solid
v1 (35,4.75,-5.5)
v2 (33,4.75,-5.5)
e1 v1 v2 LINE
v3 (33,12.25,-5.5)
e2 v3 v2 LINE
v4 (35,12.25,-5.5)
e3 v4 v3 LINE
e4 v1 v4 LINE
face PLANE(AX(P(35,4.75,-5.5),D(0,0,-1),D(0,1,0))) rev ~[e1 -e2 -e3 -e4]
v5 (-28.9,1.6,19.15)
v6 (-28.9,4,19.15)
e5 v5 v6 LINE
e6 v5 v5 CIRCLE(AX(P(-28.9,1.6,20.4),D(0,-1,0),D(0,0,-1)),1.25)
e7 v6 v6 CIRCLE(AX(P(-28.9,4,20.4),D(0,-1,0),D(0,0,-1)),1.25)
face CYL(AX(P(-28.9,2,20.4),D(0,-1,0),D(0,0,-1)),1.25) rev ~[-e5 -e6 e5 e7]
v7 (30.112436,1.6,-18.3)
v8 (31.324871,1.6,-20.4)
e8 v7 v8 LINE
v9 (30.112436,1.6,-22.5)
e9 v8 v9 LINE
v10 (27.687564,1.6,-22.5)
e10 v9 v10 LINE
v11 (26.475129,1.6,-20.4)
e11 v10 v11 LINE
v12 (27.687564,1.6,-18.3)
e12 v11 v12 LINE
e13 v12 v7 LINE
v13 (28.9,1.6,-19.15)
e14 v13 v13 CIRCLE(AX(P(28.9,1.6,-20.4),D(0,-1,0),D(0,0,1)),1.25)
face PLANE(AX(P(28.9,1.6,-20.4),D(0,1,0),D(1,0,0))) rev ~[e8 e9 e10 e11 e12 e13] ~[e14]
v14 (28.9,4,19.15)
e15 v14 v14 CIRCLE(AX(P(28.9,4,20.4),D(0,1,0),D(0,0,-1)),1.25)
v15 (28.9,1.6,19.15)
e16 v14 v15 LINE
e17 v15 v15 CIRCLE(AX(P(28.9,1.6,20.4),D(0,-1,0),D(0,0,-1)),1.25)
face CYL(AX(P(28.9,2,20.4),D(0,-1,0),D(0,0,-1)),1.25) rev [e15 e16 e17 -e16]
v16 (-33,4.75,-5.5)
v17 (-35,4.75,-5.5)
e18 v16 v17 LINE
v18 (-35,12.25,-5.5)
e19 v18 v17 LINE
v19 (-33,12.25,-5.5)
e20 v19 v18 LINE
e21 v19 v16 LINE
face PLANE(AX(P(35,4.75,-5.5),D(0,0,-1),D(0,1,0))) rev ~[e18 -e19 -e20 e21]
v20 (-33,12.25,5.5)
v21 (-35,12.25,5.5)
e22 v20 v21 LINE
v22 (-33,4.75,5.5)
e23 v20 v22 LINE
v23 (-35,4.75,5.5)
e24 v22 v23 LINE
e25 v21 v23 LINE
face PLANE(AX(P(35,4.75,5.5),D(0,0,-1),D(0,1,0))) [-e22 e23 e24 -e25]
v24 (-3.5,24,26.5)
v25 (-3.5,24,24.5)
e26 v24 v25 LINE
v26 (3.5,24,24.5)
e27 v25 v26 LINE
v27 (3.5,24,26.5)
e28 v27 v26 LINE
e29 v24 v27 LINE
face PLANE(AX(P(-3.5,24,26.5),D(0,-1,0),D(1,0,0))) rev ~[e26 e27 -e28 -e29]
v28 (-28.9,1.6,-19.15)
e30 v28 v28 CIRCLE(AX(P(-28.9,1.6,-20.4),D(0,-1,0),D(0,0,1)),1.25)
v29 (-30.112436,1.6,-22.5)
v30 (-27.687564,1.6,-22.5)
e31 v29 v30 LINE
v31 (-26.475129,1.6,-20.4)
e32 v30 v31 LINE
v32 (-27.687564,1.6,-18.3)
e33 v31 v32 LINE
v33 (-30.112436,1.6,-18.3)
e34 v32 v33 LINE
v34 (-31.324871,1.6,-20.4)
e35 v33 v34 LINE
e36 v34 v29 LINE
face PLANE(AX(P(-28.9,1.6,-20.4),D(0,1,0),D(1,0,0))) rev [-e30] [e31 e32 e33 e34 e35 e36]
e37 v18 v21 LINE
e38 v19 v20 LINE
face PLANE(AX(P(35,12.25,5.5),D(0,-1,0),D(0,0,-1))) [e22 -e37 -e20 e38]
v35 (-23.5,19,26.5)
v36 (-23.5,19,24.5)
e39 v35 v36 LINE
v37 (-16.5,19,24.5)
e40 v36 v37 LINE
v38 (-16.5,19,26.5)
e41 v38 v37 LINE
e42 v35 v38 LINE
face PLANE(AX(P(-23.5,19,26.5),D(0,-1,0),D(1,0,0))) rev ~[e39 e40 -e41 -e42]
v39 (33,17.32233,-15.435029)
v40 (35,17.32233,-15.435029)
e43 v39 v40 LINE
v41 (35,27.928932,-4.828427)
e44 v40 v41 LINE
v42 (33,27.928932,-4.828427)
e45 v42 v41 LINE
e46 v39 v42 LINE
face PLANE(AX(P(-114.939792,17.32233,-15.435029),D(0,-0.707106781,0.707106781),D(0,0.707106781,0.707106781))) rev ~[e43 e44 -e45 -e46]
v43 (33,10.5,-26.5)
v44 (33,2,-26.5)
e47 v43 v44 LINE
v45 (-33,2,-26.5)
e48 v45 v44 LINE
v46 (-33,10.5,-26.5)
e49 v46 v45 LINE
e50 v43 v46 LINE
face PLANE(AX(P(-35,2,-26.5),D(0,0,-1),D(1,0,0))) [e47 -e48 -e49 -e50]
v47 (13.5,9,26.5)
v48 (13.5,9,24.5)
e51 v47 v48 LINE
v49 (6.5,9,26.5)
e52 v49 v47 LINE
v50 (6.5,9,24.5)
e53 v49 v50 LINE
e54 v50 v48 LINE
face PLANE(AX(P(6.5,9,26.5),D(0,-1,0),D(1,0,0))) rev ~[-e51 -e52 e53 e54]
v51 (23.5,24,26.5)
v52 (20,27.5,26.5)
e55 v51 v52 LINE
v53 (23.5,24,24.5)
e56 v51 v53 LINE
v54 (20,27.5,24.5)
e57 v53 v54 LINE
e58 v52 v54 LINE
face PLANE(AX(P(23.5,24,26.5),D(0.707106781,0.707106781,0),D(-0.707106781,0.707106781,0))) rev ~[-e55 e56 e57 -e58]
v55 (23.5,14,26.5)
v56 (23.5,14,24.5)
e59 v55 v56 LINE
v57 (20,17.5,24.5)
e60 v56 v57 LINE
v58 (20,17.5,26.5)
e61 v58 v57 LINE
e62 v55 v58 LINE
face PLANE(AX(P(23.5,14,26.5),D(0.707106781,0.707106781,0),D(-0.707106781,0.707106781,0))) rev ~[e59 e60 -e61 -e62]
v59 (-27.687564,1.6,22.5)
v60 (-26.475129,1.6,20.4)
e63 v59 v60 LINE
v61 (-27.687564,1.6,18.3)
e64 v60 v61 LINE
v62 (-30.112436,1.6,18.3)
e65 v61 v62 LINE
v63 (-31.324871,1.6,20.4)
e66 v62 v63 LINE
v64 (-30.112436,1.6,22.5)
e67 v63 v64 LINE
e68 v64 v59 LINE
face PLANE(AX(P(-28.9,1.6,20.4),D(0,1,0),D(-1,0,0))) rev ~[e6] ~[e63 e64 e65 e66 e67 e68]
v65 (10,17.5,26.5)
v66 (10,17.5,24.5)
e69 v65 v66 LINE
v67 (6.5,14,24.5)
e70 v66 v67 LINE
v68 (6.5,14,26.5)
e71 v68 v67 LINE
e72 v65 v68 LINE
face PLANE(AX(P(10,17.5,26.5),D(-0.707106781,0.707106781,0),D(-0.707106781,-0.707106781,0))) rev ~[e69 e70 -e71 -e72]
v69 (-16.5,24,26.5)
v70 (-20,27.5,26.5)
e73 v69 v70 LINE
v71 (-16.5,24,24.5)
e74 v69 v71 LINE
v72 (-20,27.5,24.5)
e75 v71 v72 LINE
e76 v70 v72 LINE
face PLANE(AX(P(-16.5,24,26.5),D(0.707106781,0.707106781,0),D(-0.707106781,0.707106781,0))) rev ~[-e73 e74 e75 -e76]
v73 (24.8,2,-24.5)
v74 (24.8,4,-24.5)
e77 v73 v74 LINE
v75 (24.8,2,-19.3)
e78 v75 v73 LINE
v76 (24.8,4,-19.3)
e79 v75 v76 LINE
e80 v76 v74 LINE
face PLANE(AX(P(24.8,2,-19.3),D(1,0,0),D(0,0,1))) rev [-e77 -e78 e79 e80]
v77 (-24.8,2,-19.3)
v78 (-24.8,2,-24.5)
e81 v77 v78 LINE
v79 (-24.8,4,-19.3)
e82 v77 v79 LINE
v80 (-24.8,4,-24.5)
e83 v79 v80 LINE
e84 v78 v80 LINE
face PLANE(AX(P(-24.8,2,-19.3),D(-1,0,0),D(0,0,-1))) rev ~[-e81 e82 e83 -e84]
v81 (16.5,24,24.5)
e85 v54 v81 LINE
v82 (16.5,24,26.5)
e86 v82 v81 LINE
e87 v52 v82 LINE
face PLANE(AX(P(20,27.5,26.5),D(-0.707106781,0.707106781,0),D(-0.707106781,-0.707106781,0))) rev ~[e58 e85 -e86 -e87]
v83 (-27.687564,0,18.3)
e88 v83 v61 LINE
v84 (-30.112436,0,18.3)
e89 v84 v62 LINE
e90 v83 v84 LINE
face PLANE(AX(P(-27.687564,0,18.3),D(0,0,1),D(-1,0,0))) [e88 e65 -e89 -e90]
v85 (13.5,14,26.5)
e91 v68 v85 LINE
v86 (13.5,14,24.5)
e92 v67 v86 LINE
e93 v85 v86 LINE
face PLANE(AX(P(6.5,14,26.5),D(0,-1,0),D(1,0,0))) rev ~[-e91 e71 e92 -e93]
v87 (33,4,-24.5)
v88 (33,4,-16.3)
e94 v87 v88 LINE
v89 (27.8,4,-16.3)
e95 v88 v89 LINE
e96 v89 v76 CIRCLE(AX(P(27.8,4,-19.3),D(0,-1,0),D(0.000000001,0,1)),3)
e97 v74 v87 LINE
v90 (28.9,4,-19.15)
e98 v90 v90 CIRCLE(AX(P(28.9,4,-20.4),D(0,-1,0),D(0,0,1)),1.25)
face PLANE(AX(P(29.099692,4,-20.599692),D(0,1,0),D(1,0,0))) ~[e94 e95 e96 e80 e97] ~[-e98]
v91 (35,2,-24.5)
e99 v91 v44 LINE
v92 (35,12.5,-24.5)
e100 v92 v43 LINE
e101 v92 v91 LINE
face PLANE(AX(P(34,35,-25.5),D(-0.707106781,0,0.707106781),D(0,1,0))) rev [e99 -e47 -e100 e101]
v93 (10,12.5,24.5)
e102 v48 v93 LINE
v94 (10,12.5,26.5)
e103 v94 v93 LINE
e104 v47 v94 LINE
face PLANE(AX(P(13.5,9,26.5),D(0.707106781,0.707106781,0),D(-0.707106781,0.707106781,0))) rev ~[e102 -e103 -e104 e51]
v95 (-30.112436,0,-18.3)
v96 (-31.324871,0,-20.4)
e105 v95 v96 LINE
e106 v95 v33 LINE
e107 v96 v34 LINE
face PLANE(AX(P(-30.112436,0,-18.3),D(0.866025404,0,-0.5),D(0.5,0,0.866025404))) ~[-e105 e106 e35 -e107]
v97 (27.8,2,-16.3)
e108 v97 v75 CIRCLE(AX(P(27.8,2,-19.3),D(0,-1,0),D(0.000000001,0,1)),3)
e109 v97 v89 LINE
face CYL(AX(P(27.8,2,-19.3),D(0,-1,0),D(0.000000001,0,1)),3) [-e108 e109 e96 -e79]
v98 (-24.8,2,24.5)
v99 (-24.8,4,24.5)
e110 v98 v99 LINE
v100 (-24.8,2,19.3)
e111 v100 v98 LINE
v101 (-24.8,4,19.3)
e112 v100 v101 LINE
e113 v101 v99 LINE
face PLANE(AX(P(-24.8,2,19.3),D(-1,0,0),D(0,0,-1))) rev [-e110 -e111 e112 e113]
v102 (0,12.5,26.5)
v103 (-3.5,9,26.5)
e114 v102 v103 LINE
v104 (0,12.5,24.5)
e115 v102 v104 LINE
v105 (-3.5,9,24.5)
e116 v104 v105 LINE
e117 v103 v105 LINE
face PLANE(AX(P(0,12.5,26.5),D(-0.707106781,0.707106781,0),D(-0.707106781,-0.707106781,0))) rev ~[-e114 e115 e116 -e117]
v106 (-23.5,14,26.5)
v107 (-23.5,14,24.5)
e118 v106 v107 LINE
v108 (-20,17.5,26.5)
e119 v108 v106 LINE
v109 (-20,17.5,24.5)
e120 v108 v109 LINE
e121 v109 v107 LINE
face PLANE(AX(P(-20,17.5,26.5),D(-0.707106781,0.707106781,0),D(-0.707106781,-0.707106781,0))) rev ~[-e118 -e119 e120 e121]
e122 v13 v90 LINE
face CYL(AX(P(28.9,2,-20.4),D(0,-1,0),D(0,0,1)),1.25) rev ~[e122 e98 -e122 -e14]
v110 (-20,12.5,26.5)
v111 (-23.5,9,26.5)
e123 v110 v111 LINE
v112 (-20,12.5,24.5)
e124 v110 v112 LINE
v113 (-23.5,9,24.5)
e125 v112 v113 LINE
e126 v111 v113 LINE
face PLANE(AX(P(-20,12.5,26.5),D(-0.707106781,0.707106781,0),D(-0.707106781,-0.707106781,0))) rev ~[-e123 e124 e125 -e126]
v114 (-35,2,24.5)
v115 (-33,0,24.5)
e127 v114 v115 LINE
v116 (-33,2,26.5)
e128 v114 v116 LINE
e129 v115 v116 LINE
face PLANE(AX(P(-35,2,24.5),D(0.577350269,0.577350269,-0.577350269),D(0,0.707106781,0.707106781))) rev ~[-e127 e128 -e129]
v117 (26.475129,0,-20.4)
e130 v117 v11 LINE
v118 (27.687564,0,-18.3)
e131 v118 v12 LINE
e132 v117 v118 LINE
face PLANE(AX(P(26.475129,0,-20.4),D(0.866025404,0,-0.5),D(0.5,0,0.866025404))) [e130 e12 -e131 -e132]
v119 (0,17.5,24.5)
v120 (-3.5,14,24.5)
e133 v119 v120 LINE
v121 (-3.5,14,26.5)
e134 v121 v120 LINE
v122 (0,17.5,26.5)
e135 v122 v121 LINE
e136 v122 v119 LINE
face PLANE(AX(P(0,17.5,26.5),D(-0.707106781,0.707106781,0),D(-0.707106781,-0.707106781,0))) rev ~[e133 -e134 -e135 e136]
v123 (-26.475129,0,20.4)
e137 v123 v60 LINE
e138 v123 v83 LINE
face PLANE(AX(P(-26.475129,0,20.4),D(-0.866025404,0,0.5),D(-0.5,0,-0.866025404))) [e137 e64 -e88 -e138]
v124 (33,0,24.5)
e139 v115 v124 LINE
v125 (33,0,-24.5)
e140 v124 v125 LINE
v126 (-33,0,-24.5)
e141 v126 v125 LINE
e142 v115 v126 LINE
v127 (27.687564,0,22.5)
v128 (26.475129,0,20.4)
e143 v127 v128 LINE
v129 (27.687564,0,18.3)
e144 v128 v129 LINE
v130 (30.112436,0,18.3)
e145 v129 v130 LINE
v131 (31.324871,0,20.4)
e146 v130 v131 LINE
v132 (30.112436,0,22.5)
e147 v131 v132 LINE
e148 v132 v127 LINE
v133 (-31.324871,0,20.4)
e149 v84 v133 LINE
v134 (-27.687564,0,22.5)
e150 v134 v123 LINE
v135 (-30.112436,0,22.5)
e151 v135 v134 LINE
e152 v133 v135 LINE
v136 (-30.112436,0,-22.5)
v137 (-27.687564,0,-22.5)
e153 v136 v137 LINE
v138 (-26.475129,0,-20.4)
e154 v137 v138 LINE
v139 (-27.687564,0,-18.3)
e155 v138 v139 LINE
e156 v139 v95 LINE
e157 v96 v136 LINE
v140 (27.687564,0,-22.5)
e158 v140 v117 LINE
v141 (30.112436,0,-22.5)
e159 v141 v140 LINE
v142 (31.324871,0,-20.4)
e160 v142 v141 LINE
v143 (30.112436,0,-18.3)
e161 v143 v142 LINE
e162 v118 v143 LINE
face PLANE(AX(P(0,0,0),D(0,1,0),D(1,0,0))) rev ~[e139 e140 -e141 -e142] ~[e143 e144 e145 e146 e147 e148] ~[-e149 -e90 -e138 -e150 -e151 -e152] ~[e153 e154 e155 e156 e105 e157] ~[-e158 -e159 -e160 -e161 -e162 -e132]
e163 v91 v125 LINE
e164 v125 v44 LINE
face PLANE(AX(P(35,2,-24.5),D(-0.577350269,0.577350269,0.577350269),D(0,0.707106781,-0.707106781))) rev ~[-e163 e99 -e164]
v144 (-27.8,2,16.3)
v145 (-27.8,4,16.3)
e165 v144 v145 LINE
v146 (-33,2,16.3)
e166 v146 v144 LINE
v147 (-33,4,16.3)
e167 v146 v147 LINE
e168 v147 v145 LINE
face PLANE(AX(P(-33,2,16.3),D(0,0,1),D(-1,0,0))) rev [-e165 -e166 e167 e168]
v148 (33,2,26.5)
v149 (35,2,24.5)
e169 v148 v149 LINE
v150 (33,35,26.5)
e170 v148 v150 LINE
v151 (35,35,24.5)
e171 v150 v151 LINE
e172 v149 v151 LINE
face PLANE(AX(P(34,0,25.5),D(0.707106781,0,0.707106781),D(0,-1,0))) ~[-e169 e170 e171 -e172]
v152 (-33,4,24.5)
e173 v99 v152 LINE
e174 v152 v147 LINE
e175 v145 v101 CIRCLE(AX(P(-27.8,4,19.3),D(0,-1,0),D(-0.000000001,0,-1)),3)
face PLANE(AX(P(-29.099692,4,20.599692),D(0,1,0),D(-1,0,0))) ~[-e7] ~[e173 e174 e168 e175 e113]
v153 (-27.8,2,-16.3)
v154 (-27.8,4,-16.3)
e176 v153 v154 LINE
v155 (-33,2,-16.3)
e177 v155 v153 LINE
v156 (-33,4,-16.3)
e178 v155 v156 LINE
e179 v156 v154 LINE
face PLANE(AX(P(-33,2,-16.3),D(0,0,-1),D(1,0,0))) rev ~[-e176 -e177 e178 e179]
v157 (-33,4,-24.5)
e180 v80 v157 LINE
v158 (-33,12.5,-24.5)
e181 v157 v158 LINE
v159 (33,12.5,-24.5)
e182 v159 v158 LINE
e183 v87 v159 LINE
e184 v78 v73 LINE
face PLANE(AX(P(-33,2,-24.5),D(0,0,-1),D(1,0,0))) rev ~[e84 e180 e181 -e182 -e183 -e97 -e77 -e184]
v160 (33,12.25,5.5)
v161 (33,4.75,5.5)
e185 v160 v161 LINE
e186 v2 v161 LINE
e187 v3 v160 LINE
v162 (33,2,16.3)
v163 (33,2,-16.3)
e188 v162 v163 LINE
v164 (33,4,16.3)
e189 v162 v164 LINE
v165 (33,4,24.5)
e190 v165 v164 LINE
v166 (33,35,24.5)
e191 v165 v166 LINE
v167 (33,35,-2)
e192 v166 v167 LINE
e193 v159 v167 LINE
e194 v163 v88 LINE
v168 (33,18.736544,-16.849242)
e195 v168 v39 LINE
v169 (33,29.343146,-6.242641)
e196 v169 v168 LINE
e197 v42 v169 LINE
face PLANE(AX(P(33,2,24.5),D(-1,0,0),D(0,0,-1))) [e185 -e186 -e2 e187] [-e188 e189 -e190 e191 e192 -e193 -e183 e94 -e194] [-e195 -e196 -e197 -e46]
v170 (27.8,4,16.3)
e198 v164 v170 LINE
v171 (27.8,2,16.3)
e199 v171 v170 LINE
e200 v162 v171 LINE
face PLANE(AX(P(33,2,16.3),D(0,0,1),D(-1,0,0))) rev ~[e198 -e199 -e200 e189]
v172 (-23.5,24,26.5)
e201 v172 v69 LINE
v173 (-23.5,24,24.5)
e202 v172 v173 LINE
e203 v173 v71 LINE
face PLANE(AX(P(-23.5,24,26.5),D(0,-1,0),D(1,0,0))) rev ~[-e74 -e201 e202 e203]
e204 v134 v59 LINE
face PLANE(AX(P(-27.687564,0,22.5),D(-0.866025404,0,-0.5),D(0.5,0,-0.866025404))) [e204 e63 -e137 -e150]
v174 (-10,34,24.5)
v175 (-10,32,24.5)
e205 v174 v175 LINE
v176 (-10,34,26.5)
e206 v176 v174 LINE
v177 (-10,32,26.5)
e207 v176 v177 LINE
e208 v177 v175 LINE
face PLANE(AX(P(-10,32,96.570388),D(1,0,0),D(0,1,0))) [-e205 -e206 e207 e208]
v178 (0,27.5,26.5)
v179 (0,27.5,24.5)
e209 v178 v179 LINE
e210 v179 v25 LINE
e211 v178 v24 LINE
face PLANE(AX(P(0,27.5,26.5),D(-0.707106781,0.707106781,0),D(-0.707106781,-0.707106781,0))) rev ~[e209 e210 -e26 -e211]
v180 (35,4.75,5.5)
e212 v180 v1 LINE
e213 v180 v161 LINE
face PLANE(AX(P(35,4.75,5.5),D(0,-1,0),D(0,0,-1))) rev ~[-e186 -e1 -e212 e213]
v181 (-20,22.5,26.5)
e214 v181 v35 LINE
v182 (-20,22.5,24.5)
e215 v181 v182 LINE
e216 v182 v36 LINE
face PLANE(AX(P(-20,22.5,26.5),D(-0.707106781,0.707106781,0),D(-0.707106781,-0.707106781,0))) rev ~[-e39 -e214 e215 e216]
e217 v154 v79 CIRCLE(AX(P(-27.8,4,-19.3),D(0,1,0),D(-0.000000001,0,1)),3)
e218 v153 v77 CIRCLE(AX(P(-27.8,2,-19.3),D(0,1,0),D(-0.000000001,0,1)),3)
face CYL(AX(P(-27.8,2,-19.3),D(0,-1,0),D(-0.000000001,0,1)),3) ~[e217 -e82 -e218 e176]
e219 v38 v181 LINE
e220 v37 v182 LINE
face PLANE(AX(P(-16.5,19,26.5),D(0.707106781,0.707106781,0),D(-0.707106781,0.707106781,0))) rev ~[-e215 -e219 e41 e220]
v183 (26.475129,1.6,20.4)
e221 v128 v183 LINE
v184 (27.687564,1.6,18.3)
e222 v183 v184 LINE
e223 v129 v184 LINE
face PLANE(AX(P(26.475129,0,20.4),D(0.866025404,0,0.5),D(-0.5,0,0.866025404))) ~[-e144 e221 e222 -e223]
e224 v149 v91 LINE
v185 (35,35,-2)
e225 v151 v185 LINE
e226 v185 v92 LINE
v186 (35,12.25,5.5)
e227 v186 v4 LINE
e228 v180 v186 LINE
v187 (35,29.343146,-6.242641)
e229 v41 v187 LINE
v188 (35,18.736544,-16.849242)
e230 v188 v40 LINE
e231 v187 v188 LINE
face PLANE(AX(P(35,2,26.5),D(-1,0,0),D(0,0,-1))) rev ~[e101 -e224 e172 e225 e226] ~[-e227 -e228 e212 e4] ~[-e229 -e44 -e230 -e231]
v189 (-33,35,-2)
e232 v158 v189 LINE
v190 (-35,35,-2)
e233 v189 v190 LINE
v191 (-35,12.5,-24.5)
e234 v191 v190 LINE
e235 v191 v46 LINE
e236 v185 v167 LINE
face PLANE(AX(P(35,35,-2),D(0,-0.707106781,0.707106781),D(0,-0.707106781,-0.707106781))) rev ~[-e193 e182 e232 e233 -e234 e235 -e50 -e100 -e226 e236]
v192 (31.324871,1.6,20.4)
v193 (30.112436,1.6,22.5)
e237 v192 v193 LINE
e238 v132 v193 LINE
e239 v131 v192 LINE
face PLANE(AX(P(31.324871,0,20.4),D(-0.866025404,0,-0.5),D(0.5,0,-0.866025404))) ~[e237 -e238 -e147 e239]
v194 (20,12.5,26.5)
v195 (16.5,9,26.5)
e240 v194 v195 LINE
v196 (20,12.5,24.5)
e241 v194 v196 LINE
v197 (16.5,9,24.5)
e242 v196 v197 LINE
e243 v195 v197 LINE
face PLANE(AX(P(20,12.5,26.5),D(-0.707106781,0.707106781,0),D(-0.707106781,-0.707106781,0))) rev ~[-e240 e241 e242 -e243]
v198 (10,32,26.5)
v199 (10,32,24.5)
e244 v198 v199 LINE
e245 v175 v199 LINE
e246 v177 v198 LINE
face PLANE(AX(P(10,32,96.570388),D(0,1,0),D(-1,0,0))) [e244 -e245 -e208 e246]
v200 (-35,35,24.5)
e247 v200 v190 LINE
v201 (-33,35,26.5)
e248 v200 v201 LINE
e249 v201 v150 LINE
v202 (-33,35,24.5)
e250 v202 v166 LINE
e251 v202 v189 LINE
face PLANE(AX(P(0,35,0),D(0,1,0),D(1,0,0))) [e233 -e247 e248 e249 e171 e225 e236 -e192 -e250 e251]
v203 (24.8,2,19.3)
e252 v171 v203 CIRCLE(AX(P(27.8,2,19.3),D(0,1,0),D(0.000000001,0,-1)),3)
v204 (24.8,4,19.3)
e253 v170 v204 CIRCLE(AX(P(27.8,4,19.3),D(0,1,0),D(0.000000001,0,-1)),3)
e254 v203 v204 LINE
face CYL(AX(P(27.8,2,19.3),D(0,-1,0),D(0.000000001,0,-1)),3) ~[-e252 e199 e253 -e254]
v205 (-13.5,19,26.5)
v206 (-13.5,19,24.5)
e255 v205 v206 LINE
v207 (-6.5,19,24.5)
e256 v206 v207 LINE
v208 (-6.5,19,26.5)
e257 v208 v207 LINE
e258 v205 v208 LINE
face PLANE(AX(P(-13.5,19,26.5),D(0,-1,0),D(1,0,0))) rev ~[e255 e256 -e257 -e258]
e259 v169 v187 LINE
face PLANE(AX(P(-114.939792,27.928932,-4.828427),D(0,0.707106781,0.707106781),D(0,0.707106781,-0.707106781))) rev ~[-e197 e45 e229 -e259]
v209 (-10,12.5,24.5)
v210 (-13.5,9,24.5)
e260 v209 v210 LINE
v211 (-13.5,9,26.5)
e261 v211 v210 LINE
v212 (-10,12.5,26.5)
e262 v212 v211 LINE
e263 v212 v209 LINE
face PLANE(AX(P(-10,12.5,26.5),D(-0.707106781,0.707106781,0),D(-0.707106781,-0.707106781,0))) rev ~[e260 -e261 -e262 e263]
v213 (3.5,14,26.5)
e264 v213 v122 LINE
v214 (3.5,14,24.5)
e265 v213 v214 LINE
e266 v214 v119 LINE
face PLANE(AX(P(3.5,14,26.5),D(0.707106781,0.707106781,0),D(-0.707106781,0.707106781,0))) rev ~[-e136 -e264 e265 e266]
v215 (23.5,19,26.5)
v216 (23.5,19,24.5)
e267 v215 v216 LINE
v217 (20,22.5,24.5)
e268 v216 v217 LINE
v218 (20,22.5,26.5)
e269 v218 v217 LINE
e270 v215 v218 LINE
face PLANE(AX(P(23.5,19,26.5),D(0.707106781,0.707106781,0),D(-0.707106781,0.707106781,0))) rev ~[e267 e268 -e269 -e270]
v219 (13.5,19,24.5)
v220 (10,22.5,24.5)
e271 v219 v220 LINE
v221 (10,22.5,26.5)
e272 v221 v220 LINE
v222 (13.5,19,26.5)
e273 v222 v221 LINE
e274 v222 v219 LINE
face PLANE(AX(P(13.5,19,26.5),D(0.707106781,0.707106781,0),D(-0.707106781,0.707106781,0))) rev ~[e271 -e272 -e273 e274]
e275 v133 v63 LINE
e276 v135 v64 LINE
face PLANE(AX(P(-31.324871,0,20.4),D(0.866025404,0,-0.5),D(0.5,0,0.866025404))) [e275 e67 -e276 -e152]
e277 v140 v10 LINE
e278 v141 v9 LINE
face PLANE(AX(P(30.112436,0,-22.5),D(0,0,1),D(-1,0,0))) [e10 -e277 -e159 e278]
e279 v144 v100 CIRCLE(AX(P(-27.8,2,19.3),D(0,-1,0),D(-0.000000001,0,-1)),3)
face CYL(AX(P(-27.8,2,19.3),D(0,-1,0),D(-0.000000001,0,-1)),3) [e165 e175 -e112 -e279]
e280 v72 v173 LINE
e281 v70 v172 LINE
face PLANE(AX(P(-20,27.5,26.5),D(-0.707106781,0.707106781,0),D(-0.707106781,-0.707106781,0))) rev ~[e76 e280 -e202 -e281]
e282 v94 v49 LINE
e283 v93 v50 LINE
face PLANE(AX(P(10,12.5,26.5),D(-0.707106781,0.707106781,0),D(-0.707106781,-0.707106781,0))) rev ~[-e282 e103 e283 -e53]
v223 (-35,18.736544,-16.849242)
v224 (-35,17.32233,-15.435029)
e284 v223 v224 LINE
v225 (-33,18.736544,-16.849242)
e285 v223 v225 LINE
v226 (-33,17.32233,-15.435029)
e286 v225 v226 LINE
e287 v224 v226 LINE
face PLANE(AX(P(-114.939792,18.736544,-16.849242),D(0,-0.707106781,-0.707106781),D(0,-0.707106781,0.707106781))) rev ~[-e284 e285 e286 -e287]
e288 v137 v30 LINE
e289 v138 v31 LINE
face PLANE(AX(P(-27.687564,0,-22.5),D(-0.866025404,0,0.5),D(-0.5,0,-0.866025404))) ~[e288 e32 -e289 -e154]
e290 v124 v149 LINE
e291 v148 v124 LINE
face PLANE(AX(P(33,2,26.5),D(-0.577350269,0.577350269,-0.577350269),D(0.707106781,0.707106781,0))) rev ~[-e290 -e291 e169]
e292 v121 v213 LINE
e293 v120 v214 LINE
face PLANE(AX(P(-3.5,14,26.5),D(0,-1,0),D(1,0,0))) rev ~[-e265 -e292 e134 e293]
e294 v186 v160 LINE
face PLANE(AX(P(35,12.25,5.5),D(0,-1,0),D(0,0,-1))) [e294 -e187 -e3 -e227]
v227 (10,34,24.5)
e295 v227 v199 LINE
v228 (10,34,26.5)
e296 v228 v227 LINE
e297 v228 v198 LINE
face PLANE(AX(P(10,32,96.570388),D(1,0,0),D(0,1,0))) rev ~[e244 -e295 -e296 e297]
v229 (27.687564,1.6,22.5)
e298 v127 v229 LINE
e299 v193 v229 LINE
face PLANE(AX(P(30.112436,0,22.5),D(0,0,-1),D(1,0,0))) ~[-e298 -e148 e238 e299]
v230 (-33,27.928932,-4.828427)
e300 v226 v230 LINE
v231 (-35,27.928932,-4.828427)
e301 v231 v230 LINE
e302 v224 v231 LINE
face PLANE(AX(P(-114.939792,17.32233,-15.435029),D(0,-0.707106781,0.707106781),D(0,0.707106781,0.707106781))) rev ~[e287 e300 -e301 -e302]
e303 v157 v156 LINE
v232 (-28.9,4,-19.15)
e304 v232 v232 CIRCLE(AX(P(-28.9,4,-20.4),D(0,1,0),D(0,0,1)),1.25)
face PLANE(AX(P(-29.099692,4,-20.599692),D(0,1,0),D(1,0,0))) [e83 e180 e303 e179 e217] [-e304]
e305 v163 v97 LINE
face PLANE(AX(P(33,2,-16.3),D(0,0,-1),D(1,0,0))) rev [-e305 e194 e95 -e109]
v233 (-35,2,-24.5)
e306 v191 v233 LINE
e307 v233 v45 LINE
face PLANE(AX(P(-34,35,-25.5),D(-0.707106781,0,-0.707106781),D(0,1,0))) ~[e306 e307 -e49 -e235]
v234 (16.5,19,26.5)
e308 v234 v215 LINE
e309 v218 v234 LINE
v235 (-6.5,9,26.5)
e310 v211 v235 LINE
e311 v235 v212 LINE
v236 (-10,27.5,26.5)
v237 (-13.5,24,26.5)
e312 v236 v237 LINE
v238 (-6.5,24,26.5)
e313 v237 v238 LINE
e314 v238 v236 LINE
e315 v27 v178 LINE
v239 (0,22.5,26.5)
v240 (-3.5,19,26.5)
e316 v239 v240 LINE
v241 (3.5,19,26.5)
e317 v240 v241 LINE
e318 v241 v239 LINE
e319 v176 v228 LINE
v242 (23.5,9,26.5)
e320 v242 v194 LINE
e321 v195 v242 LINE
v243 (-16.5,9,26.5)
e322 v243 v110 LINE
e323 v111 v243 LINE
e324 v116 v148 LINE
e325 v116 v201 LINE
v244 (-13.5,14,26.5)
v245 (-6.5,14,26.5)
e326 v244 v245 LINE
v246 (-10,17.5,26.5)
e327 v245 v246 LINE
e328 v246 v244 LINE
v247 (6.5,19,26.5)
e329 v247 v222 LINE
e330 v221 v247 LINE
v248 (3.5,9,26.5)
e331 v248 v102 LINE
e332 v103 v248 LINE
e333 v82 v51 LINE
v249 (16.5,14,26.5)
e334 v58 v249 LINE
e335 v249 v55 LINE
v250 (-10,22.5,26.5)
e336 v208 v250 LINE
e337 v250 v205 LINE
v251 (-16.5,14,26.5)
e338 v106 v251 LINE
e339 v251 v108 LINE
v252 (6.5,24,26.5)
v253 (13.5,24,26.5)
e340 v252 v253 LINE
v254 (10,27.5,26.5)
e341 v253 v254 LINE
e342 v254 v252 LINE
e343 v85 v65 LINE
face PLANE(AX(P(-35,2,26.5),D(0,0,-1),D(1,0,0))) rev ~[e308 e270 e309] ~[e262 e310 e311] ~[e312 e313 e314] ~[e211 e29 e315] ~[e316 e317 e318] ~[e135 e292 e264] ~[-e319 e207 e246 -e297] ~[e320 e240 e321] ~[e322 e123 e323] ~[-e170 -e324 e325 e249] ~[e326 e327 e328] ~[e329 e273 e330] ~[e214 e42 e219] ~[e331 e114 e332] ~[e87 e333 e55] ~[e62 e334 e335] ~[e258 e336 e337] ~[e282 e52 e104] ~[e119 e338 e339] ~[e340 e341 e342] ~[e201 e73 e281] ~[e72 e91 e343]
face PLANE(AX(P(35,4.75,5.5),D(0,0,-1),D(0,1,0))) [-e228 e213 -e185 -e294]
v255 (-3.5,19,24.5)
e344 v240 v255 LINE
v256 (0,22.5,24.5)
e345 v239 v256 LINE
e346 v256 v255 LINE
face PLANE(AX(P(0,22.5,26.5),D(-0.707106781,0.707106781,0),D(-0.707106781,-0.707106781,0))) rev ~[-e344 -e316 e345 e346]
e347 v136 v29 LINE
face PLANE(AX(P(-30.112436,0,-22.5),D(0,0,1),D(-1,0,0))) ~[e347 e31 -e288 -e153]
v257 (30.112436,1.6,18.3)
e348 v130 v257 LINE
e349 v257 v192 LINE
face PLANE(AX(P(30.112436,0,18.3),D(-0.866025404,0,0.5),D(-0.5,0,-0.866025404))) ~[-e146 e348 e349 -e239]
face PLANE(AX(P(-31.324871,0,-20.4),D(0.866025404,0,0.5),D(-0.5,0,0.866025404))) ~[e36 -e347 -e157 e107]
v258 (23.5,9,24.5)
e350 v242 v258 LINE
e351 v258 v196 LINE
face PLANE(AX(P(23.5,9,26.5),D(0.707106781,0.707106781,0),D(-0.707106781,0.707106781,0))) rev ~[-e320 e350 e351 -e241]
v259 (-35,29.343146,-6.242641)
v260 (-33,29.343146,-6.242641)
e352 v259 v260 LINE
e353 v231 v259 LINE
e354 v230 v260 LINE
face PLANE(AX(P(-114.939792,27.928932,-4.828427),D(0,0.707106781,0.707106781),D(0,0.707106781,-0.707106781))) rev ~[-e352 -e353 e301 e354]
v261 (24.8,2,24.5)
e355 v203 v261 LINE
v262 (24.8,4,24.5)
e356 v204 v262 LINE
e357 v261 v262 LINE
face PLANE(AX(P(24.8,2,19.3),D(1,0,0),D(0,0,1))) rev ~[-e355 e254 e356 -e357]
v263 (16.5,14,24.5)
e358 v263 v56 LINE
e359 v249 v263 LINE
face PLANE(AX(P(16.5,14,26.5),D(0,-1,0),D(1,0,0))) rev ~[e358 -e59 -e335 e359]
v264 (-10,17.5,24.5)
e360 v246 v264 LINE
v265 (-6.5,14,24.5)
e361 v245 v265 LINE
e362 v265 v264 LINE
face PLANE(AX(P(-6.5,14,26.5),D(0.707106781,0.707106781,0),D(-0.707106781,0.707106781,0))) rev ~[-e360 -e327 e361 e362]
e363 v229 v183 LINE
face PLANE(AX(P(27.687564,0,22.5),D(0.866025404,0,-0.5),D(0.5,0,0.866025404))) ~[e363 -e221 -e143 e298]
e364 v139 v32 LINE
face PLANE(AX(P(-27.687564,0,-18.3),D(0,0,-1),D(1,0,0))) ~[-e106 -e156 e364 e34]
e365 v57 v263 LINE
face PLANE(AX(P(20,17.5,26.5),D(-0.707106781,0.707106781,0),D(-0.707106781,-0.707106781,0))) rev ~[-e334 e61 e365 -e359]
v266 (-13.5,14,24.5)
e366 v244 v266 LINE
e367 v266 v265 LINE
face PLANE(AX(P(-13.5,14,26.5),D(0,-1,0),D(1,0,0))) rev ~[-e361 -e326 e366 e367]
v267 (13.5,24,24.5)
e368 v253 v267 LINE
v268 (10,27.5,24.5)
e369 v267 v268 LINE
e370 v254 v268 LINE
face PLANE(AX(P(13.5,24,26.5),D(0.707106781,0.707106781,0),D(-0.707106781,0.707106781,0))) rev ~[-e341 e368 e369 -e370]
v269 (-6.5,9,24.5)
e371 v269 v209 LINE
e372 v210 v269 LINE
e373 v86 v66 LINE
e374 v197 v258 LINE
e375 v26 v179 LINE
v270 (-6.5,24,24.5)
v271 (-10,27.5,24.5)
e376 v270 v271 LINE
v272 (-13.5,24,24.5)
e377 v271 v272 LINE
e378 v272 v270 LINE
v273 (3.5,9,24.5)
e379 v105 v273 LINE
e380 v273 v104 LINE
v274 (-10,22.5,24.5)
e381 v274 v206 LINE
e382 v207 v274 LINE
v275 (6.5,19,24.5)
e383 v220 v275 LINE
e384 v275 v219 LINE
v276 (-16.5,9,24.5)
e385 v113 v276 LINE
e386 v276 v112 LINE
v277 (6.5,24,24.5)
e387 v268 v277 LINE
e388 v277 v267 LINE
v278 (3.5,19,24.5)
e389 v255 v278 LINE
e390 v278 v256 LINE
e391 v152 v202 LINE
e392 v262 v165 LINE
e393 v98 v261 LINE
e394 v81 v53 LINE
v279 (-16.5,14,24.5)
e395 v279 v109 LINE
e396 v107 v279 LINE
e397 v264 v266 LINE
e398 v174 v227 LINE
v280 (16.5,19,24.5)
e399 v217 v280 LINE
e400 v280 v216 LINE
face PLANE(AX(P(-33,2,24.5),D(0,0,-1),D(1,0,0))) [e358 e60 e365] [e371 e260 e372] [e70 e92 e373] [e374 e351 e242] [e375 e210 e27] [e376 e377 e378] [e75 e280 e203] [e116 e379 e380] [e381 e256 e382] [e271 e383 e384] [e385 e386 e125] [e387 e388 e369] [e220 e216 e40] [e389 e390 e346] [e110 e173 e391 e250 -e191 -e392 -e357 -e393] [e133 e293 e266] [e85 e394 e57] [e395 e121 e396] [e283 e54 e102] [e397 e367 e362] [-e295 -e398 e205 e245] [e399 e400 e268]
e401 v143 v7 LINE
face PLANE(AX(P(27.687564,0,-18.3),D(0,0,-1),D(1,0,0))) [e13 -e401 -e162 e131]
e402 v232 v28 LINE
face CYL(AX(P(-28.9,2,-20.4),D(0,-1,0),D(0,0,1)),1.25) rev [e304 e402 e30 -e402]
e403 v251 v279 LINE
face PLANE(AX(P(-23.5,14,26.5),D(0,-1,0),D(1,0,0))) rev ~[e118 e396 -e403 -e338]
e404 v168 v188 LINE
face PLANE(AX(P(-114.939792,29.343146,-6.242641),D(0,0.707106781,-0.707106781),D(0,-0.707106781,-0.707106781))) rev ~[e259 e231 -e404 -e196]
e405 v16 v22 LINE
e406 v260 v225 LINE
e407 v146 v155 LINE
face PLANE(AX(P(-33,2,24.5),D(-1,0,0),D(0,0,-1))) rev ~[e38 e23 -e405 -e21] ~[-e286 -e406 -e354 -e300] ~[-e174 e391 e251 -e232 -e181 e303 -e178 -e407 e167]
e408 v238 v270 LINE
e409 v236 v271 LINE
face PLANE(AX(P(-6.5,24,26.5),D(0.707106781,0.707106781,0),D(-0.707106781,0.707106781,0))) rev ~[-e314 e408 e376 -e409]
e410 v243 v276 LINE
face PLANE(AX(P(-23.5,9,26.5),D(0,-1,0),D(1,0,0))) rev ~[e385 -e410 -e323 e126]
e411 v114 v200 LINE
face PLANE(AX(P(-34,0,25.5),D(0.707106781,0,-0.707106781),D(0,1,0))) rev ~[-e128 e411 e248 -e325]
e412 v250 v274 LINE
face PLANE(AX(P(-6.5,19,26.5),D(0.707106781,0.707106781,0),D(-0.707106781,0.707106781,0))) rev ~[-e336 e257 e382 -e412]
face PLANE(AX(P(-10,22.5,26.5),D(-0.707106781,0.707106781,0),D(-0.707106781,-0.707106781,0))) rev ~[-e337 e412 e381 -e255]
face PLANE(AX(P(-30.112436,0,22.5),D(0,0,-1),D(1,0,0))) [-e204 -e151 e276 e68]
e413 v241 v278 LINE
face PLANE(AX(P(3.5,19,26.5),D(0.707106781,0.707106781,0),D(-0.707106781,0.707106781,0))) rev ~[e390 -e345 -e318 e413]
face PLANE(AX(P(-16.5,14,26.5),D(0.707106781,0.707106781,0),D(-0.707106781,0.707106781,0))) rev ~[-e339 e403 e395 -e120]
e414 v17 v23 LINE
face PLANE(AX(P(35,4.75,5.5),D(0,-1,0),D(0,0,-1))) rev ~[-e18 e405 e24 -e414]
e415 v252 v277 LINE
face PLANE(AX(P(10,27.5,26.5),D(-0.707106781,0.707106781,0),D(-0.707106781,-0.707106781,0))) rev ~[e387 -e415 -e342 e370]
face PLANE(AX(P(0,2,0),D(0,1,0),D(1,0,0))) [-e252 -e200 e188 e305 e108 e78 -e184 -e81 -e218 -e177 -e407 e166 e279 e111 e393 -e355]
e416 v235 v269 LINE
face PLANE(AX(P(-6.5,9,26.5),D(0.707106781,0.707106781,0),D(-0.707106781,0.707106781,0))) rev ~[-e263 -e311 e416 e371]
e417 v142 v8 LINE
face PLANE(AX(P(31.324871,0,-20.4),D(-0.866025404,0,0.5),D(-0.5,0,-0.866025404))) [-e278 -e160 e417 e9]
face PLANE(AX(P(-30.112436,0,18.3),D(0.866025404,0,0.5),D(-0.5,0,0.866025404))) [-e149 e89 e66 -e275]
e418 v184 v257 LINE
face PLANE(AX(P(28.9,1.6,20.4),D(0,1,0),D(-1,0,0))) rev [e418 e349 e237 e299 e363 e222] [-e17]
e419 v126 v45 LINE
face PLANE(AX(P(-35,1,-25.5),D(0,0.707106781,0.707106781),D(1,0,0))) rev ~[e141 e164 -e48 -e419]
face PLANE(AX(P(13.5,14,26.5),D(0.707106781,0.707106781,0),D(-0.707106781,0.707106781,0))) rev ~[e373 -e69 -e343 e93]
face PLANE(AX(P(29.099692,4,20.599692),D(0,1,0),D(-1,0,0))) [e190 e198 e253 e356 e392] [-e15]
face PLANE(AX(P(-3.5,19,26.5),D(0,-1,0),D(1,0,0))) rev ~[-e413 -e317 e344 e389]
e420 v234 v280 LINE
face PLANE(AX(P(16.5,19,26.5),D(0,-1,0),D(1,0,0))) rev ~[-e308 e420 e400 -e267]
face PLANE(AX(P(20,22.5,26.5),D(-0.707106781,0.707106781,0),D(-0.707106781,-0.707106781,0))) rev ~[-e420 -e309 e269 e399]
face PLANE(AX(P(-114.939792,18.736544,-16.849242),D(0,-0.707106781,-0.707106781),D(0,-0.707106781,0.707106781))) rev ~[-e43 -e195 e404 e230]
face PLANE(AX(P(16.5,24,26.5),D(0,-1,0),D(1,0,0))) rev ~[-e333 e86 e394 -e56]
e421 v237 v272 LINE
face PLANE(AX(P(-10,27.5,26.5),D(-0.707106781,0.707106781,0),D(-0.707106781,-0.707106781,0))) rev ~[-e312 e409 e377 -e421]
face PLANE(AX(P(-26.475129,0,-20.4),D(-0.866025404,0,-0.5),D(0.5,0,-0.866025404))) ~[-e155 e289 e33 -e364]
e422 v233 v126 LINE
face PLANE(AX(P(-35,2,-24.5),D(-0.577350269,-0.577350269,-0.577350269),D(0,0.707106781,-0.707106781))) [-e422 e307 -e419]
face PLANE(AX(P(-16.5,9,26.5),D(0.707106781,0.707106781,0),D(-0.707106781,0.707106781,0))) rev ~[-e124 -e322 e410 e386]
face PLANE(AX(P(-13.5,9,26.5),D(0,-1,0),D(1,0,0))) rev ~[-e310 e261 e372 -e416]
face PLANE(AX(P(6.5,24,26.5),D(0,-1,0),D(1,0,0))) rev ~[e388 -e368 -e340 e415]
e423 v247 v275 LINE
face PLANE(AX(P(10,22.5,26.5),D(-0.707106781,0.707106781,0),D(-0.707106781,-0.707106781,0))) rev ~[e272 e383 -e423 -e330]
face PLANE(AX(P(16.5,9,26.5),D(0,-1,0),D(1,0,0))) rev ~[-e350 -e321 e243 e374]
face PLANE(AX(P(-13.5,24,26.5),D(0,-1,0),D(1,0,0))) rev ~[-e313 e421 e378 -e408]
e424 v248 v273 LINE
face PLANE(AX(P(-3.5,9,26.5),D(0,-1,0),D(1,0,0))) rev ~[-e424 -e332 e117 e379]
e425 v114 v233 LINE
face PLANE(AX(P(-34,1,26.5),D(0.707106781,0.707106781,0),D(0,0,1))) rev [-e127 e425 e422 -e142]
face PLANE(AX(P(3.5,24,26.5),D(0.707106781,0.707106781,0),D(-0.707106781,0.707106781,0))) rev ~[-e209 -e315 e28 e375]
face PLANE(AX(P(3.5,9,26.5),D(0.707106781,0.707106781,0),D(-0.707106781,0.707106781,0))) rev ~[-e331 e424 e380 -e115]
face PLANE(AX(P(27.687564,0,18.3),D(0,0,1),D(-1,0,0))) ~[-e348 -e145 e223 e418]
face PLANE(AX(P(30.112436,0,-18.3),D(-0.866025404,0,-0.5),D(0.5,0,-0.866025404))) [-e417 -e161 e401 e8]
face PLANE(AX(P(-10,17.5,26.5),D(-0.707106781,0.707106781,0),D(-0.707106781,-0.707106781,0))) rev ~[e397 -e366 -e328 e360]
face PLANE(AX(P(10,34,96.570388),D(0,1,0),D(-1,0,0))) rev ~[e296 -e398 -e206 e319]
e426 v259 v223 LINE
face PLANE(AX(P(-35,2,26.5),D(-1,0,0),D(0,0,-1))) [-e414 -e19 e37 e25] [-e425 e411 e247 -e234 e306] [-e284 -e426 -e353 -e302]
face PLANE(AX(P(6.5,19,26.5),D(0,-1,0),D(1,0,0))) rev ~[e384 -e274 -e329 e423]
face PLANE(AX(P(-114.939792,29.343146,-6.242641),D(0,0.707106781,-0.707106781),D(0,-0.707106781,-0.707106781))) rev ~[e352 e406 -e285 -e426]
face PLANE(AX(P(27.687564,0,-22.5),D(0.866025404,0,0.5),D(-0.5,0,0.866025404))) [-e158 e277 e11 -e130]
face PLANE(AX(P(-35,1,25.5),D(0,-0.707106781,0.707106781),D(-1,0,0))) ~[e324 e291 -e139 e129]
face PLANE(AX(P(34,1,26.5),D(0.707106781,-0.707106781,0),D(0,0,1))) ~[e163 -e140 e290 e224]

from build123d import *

# Parameters (mm, degrees)
SKETCH1_W               = 70
SKETCH1_H               = 53
SKETCH1_W_2             = 66
SKETCH1_H_2             = 49
BOSS_EXTRUDE1_DEPTH     = 2
BOSS_EXTRUDE2_START     = 2
SKETCH1_3_W             = 70
SKETCH1_3_H             = 53
SKETCH1_3_W_2           = 66
SKETCH1_3_H_2           = 49
BOSS_EXTRUDE2_DEPTH     = 33
CHAMFER1_SIZE           = 2
SKETCH2_R               = 1.25
BOSS_EXTRUDE3_DEPTH     = 2
MIRROR2_COPY_1_SKETCH_R = 1.25
MIRROR2_COPY_1_DEPTH    = 2
CUT_EXTRUDE1_DEPTH      = 1.6
MIRROR4_COPY_1_DEPTH    = 1.6
CUT_EXTRUDE2_DEPTH      = 55.92039694
CUT_EXTRUDE2_DEPTH_BACK = 55.92039694
SKETCH4_R               = 1.25
SKETCH7_W               = 11
SKETCH7_H               = 7.5
CUT_EXTRUDE5_DEPTH      = 83.627174707
CUT_EXTRUDE3_DEPTH      = 72.070387645
CUT_EXTRUDE3_DEPTH_BACK = 72.070387645
SKETCH5_W               = 20
SKETCH5_H               = 2
CUT_EXTRUDE8_DEPTH      = 83.627174707
CUT_EXTRUDE4_DEPTH      = 81.939792439
CUT_EXTRUDE4_DEPTH_BACK = 81.939792439
CUT_EXTRUDE9_REACH      = 74.519
LPATTERN2_COUNT         = 3
LPATTERN2_PITCH         = 10
LPATTERN2_COL_COUNT     = 3
LPATTERN2_COL_PITCH     = 10
LPATTERN3_COUNT         = 4
LPATTERN3_PITCH         = 5
LPATTERN3_COPY_1_REACH  = 74.519
LPATTERN3_COPY_2_REACH  = 74.519
LPATTERN3_COPY_3_REACH  = 74.519
LPATTERN3_COPY_4_REACH  = 74.519
LPATTERN3_COPY_5_REACH  = 74.519
LPATTERN3_COPY_6_REACH  = 74.519
LPATTERN3_COPY_7_REACH  = 74.519
LPATTERN3_COPY_8_REACH  = 74.519
LPATTERN3_COPY_9_REACH  = 74.519
LPATTERN3_COPY_10_REACH = 74.519
LPATTERN3_COPY_11_REACH = 74.519
LPATTERN3_COPY_12_REACH = 74.519


with BuildPart() as part:
    # Sketch1 → Boss-Extrude1 (new body)
    # profile 1 of 2: a face of its own
    with BuildSketch(Plane(origin=(0, 0, 0), x_dir=(1, 0, 0), z_dir=(0, 1, 0))):
        Rectangle(SKETCH1_W, SKETCH1_H)
        Rectangle(SKETCH1_W_2, SKETCH1_H_2, mode=Mode.SUBTRACT)
    # profile 2 of 2: a face of its own
    with BuildSketch(Plane(origin=(0, 0, 0), x_dir=(1, 0, 0), z_dir=(0, 1, 0))):
        Rectangle(SKETCH1_W_2, SKETCH1_H_2)
    extrude(amount=BOSS_EXTRUDE1_DEPTH)

    # Sketch1<3> → Boss-Extrude2 (add)
    with BuildSketch(Plane(origin=(0, 0, 0), x_dir=(1, 0, 0), z_dir=(0, 1, 0)).offset(BOSS_EXTRUDE2_START)):
        Rectangle(SKETCH1_3_W, SKETCH1_3_H)
        Rectangle(SKETCH1_3_W_2, SKETCH1_3_H_2, mode=Mode.SUBTRACT)
    extrude(amount=BOSS_EXTRUDE2_DEPTH)

    # Chamfer1
    chamfer1_edges = [part.edges().sort_by_distance(p)[0] for p in [
        (0, 0, -26.5),
        (35, 0, 0),
        (0, 0, 26.5),
        (-35, 0, 0),
        (-35, 17.5, -26.5),
        (35, 17.5, -26.5),
        (35, 17.5, 26.5),
        (-35, 17.5, 26.5),
    ]]
    chamfer(chamfer1_edges, length=CHAMFER1_SIZE)

    # Sketch2 → Boss-Extrude3 (add)
    with BuildSketch(Plane(origin=(0, 2, 0), x_dir=(1, 0, 0), z_dir=(0, 1, 0))):
        with BuildLine():
            Line((-33, 16.3), (-27.8, 16.3))
            ThreePointArc((-27.8, 16.3), (-25.678679656, 17.178679656), (-24.8, 19.3))
            Line((-24.8, 19.3), (-24.8, 24.5))
            Line((-24.8, 24.5), (-33, 24.5))
            Line((-33, 24.5), (-33, 16.3))
        make_face()
        with Locations(Location((-28.9, 20.4, 0), (0, 0, 270))):
            Circle(SKETCH2_R, mode=Mode.SUBTRACT)
    boss_extrude3 = extrude(amount=BOSS_EXTRUDE3_DEPTH)

    # Mirror1: Boss-Extrude3 across plane
    add(boss_extrude3.mirror(Plane.XY))

    # Mirror2: Boss-Extrude3 across plane
    add(boss_extrude3.mirror(Plane(origin=(0, 0, 0), x_dir=(0, 0, 1), z_dir=(1, 0, 0))))

    # Mirror2 copy 1 sketch → Mirror2 copy 1 (add)
    with BuildSketch(Plane(origin=(0, 2, 0), x_dir=(-1, 0, 0), z_dir=(0, 1, 0))):
        with BuildLine():
            Line((-33, 16.3), (-27.8, 16.3))
            ThreePointArc((-27.8, 16.3), (-25.678679656, 17.178679656), (-24.8, 19.3))
            Line((-24.8, 19.3), (-24.8, 24.5))
            Line((-24.8, 24.5), (-33, 24.5))
            Line((-33, 24.5), (-33, 16.3))
        make_face()
        with Locations(Location((-28.9, 20.4, 0), (0, 0, 270))):
            Circle(MIRROR2_COPY_1_SKETCH_R, mode=Mode.SUBTRACT)
    extrude(amount=MIRROR2_COPY_1_DEPTH)

    # Sketch3 → Cut-Extrude1 (cut)
    with BuildSketch(Plane.XZ):
        Polygon((-30.112435565, 22.5), (-27.687564435, 22.5), (-26.475128869, 20.4), (-27.687564435, 18.3), (-30.112435565, 18.3), (-31.324871131, 20.4), align=None)
    cut_extrude1 = extrude(amount=-CUT_EXTRUDE1_DEPTH, mode=Mode.SUBTRACT)

    # Mirror3: Cut-Extrude1 across plane
    add(cut_extrude1.mirror(Plane.XY), mode=Mode.SUBTRACT)

    # Mirror4: Cut-Extrude1 across plane
    add(cut_extrude1.mirror(Plane(origin=(0, 0, 0), x_dir=(0, 0, 1), z_dir=(1, 0, 0))), mode=Mode.SUBTRACT)

    # Mirror4 copy 1 sketch → Mirror4 copy 1 (cut)
    with BuildSketch(Plane(origin=(0, 0, 0), x_dir=(-1, 0, 0), z_dir=(0, -1, 0))):
        Polygon((-30.112435565, 22.5), (-27.687564435, 22.5), (-26.475128869, 20.4), (-27.687564435, 18.3), (-30.112435565, 18.3), (-31.324871131, 20.4), align=None)
    extrude(amount=-MIRROR4_COPY_1_DEPTH, mode=Mode.SUBTRACT)

    # Sketch4 → Cut-Extrude2 (cut, two sides: drawn at the far end of the back side and taken through both)
    with BuildSketch(Plane(origin=(0, 2, 0), x_dir=(1, 0, 0), z_dir=(0, 1, 0)).offset(-CUT_EXTRUDE2_DEPTH_BACK)):
        with Locations(Location((28.9, -20.4, 0), (0, 0, 90))):
            Circle(SKETCH4_R)
        with Locations(Location((28.9, 20.4, 0), (0, 0, 270))):
            Circle(SKETCH4_R)
        with Locations(Location((-28.9, 20.4, 0), (0, 0, 270))):
            Circle(SKETCH4_R)
        with Locations(Location((-28.9, -20.4, 0), (0, 0, 90))):
            Circle(SKETCH4_R)
    extrude(amount=CUT_EXTRUDE2_DEPTH + CUT_EXTRUDE2_DEPTH_BACK, mode=Mode.SUBTRACT)

    # Sketch7 → Cut-Extrude5 (cut, through all)
    with BuildSketch(Plane(origin=(35, 0, 0), x_dir=(0, 0, -1), z_dir=(1, 0, 0))):
        with Locations((0, 8.5)):
            Rectangle(SKETCH7_W, SKETCH7_H)
    extrude(amount=-CUT_EXTRUDE5_DEPTH, mode=Mode.SUBTRACT)

    # Sketch5 → Cut-Extrude3 (cut, two sides: drawn at the far end of the back side and taken through both)
    with BuildSketch(Plane(origin=(0, 0, 24.5), x_dir=(-1, 0, 0), z_dir=(0, 0, -1)).offset(-CUT_EXTRUDE3_DEPTH_BACK)):
        with Locations((0, 33)):
            Rectangle(SKETCH5_W, SKETCH5_H)
    extrude(amount=CUT_EXTRUDE3_DEPTH + CUT_EXTRUDE3_DEPTH_BACK, mode=Mode.SUBTRACT)

    # Sketch9 → Cut-Extrude8 (cut, through all)
    with BuildSketch(Plane(origin=(35, 0, 0), x_dir=(0, 0, -1), z_dir=(1, 0, 0))):
        Polygon((2, 35), (26.5, 10.5), (26.5, 35), align=None)
    extrude(amount=-CUT_EXTRUDE8_DEPTH, mode=Mode.SUBTRACT)

    # Sketch6 → Cut-Extrude4 (cut, two sides: drawn at the far end of the back side and taken through both)
    with BuildSketch(Plane(origin=(-33, 0, 0), x_dir=(0, 0, -1), z_dir=(1, 0, 0)).offset(-CUT_EXTRUDE4_DEPTH_BACK)):
        Polygon((6.242640687, 29.343145751), (16.849242405, 18.736544033), (15.435028843, 17.32233047), (4.828427125, 27.928932188), align=None)
    extrude(amount=CUT_EXTRUDE4_DEPTH + CUT_EXTRUDE4_DEPTH_BACK, mode=Mode.SUBTRACT)

    # Sketch11 → Cut-Extrude9 (cut, up to next)
    with BuildSketch(Plane.XY.offset(26.5), mode=Mode.PRIVATE) as cut_extrude9_sk1:
        Polygon((0, 27.5), (-3.5, 24), (3.5, 24), align=None)
    cut_extrude9_tool1 = extrude(cut_extrude9_sk1.sketch, amount=-CUT_EXTRUDE9_REACH, mode=Mode.PRIVATE) & part.part
    cut_extrude9 = cut_extrude9_tool1.solids().sort_by_distance((0, 25.166667, 26.5))[0]
    add(cut_extrude9, mode=Mode.SUBTRACT)

    # LPattern2: Cut-Extrude9 ×3
    with Locations(*[(i * LPATTERN2_PITCH, 0, 0) for i in range(1, LPATTERN2_COUNT)]):
        add(cut_extrude9, mode=Mode.SUBTRACT)

    # LPattern2 col: Cut-Extrude9 ×3
    with Locations(*[(-i * LPATTERN2_COL_PITCH, 0, 0) for i in range(1, LPATTERN2_COL_COUNT)]):
        add(cut_extrude9, mode=Mode.SUBTRACT)

    # LPattern3: Cut-Extrude9 ×4
    with Locations(*[(0, -i * LPATTERN3_PITCH, 0) for i in range(1, LPATTERN3_COUNT)]):
        add(cut_extrude9, mode=Mode.SUBTRACT)

    # LPattern3 copy 1 sketch → LPattern3 copy 1 (cut, up to next)
    with BuildSketch(Plane(origin=(10, -5, 26.5), x_dir=(1, 0, 0), z_dir=(0, 0, 1)), mode=Mode.PRIVATE) as lpattern3_copy_1_sk1:
        Polygon((0, 27.5), (-3.5, 24), (3.5, 24), align=None)
    lpattern3_copy_1_tool1 = extrude(lpattern3_copy_1_sk1.sketch, amount=-LPATTERN3_COPY_1_REACH, mode=Mode.PRIVATE) & part.part
    add(lpattern3_copy_1_tool1.solids().sort_by_distance((10, 20.166667, 26.5))[0], mode=Mode.SUBTRACT)

    # LPattern3 copy 2 sketch → LPattern3 copy 2 (cut, up to next)
    with BuildSketch(Plane(origin=(10, -10, 26.5), x_dir=(1, 0, 0), z_dir=(0, 0, 1)), mode=Mode.PRIVATE) as lpattern3_copy_2_sk1:
        Polygon((0, 27.5), (-3.5, 24), (3.5, 24), align=None)
    lpattern3_copy_2_tool1 = extrude(lpattern3_copy_2_sk1.sketch, amount=-LPATTERN3_COPY_2_REACH, mode=Mode.PRIVATE) & part.part
    add(lpattern3_copy_2_tool1.solids().sort_by_distance((10, 15.166667, 26.5))[0], mode=Mode.SUBTRACT)

    # LPattern3 copy 3 sketch → LPattern3 copy 3 (cut, up to next)
    with BuildSketch(Plane(origin=(10, -15, 26.5), x_dir=(1, 0, 0), z_dir=(0, 0, 1)), mode=Mode.PRIVATE) as lpattern3_copy_3_sk1:
        Polygon((0, 27.5), (-3.5, 24), (3.5, 24), align=None)
    lpattern3_copy_3_tool1 = extrude(lpattern3_copy_3_sk1.sketch, amount=-LPATTERN3_COPY_3_REACH, mode=Mode.PRIVATE) & part.part
    add(lpattern3_copy_3_tool1.solids().sort_by_distance((10, 10.166667, 26.5))[0], mode=Mode.SUBTRACT)

    # LPattern3 copy 4 sketch → LPattern3 copy 4 (cut, up to next)
    with BuildSketch(Plane(origin=(20, -5, 26.5), x_dir=(1, 0, 0), z_dir=(0, 0, 1)), mode=Mode.PRIVATE) as lpattern3_copy_4_sk1:
        Polygon((0, 27.5), (-3.5, 24), (3.5, 24), align=None)
    lpattern3_copy_4_tool1 = extrude(lpattern3_copy_4_sk1.sketch, amount=-LPATTERN3_COPY_4_REACH, mode=Mode.PRIVATE) & part.part
    add(lpattern3_copy_4_tool1.solids().sort_by_distance((20, 20.166667, 26.5))[0], mode=Mode.SUBTRACT)

    # LPattern3 copy 5 sketch → LPattern3 copy 5 (cut, up to next)
    with BuildSketch(Plane(origin=(20, -10, 26.5), x_dir=(1, 0, 0), z_dir=(0, 0, 1)), mode=Mode.PRIVATE) as lpattern3_copy_5_sk1:
        Polygon((0, 27.5), (-3.5, 24), (3.5, 24), align=None)
    lpattern3_copy_5_tool1 = extrude(lpattern3_copy_5_sk1.sketch, amount=-LPATTERN3_COPY_5_REACH, mode=Mode.PRIVATE) & part.part
    add(lpattern3_copy_5_tool1.solids().sort_by_distance((20, 15.166667, 26.5))[0], mode=Mode.SUBTRACT)

    # LPattern3 copy 6 sketch → LPattern3 copy 6 (cut, up to next)
    with BuildSketch(Plane(origin=(20, -15, 26.5), x_dir=(1, 0, 0), z_dir=(0, 0, 1)), mode=Mode.PRIVATE) as lpattern3_copy_6_sk1:
        Polygon((0, 27.5), (-3.5, 24), (3.5, 24), align=None)
    lpattern3_copy_6_tool1 = extrude(lpattern3_copy_6_sk1.sketch, amount=-LPATTERN3_COPY_6_REACH, mode=Mode.PRIVATE) & part.part
    add(lpattern3_copy_6_tool1.solids().sort_by_distance((20, 10.166667, 26.5))[0], mode=Mode.SUBTRACT)

    # LPattern3 copy 7 sketch → LPattern3 copy 7 (cut, up to next)
    with BuildSketch(Plane(origin=(-10, -5, 26.5), x_dir=(1, 0, 0), z_dir=(0, 0, 1)), mode=Mode.PRIVATE) as lpattern3_copy_7_sk1:
        Polygon((0, 27.5), (-3.5, 24), (3.5, 24), align=None)
    lpattern3_copy_7_tool1 = extrude(lpattern3_copy_7_sk1.sketch, amount=-LPATTERN3_COPY_7_REACH, mode=Mode.PRIVATE) & part.part
    add(lpattern3_copy_7_tool1.solids().sort_by_distance((-10, 20.166667, 26.5))[0], mode=Mode.SUBTRACT)

    # LPattern3 copy 8 sketch → LPattern3 copy 8 (cut, up to next)
    with BuildSketch(Plane(origin=(-10, -10, 26.5), x_dir=(1, 0, 0), z_dir=(0, 0, 1)), mode=Mode.PRIVATE) as lpattern3_copy_8_sk1:
        Polygon((0, 27.5), (-3.5, 24), (3.5, 24), align=None)
    lpattern3_copy_8_tool1 = extrude(lpattern3_copy_8_sk1.sketch, amount=-LPATTERN3_COPY_8_REACH, mode=Mode.PRIVATE) & part.part
    add(lpattern3_copy_8_tool1.solids().sort_by_distance((-10, 15.166667, 26.5))[0], mode=Mode.SUBTRACT)

    # LPattern3 copy 9 sketch → LPattern3 copy 9 (cut, up to next)
    with BuildSketch(Plane(origin=(-10, -15, 26.5), x_dir=(1, 0, 0), z_dir=(0, 0, 1)), mode=Mode.PRIVATE) as lpattern3_copy_9_sk1:
        Polygon((0, 27.5), (-3.5, 24), (3.5, 24), align=None)
    lpattern3_copy_9_tool1 = extrude(lpattern3_copy_9_sk1.sketch, amount=-LPATTERN3_COPY_9_REACH, mode=Mode.PRIVATE) & part.part
    add(lpattern3_copy_9_tool1.solids().sort_by_distance((-10, 10.166667, 26.5))[0], mode=Mode.SUBTRACT)

    # LPattern3 copy 10 sketch → LPattern3 copy 10 (cut, up to next)
    with BuildSketch(Plane(origin=(-20, -5, 26.5), x_dir=(1, 0, 0), z_dir=(0, 0, 1)), mode=Mode.PRIVATE) as lpattern3_copy_10_sk1:
        Polygon((0, 27.5), (-3.5, 24), (3.5, 24), align=None)
    lpattern3_copy_10_tool1 = extrude(lpattern3_copy_10_sk1.sketch, amount=-LPATTERN3_COPY_10_REACH, mode=Mode.PRIVATE) & part.part
    add(lpattern3_copy_10_tool1.solids().sort_by_distance((-20, 20.166667, 26.5))[0], mode=Mode.SUBTRACT)

    # LPattern3 copy 11 sketch → LPattern3 copy 11 (cut, up to next)
    with BuildSketch(Plane(origin=(-20, -10, 26.5), x_dir=(1, 0, 0), z_dir=(0, 0, 1)), mode=Mode.PRIVATE) as lpattern3_copy_11_sk1:
        Polygon((0, 27.5), (-3.5, 24), (3.5, 24), align=None)
    lpattern3_copy_11_tool1 = extrude(lpattern3_copy_11_sk1.sketch, amount=-LPATTERN3_COPY_11_REACH, mode=Mode.PRIVATE) & part.part
    add(lpattern3_copy_11_tool1.solids().sort_by_distance((-20, 15.166667, 26.5))[0], mode=Mode.SUBTRACT)

    # LPattern3 copy 12 sketch → LPattern3 copy 12 (cut, up to next)
    with BuildSketch(Plane(origin=(-20, -15, 26.5), x_dir=(1, 0, 0), z_dir=(0, 0, 1)), mode=Mode.PRIVATE) as lpattern3_copy_12_sk1:
        Polygon((0, 27.5), (-3.5, 24), (3.5, 24), align=None)
    lpattern3_copy_12_tool1 = extrude(lpattern3_copy_12_sk1.sketch, amount=-LPATTERN3_COPY_12_REACH, mode=Mode.PRIVATE) & part.part
    add(lpattern3_copy_12_tool1.solids().sort_by_distance((-20, 10.166667, 26.5))[0], mode=Mode.SUBTRACT)


solid = part.part
